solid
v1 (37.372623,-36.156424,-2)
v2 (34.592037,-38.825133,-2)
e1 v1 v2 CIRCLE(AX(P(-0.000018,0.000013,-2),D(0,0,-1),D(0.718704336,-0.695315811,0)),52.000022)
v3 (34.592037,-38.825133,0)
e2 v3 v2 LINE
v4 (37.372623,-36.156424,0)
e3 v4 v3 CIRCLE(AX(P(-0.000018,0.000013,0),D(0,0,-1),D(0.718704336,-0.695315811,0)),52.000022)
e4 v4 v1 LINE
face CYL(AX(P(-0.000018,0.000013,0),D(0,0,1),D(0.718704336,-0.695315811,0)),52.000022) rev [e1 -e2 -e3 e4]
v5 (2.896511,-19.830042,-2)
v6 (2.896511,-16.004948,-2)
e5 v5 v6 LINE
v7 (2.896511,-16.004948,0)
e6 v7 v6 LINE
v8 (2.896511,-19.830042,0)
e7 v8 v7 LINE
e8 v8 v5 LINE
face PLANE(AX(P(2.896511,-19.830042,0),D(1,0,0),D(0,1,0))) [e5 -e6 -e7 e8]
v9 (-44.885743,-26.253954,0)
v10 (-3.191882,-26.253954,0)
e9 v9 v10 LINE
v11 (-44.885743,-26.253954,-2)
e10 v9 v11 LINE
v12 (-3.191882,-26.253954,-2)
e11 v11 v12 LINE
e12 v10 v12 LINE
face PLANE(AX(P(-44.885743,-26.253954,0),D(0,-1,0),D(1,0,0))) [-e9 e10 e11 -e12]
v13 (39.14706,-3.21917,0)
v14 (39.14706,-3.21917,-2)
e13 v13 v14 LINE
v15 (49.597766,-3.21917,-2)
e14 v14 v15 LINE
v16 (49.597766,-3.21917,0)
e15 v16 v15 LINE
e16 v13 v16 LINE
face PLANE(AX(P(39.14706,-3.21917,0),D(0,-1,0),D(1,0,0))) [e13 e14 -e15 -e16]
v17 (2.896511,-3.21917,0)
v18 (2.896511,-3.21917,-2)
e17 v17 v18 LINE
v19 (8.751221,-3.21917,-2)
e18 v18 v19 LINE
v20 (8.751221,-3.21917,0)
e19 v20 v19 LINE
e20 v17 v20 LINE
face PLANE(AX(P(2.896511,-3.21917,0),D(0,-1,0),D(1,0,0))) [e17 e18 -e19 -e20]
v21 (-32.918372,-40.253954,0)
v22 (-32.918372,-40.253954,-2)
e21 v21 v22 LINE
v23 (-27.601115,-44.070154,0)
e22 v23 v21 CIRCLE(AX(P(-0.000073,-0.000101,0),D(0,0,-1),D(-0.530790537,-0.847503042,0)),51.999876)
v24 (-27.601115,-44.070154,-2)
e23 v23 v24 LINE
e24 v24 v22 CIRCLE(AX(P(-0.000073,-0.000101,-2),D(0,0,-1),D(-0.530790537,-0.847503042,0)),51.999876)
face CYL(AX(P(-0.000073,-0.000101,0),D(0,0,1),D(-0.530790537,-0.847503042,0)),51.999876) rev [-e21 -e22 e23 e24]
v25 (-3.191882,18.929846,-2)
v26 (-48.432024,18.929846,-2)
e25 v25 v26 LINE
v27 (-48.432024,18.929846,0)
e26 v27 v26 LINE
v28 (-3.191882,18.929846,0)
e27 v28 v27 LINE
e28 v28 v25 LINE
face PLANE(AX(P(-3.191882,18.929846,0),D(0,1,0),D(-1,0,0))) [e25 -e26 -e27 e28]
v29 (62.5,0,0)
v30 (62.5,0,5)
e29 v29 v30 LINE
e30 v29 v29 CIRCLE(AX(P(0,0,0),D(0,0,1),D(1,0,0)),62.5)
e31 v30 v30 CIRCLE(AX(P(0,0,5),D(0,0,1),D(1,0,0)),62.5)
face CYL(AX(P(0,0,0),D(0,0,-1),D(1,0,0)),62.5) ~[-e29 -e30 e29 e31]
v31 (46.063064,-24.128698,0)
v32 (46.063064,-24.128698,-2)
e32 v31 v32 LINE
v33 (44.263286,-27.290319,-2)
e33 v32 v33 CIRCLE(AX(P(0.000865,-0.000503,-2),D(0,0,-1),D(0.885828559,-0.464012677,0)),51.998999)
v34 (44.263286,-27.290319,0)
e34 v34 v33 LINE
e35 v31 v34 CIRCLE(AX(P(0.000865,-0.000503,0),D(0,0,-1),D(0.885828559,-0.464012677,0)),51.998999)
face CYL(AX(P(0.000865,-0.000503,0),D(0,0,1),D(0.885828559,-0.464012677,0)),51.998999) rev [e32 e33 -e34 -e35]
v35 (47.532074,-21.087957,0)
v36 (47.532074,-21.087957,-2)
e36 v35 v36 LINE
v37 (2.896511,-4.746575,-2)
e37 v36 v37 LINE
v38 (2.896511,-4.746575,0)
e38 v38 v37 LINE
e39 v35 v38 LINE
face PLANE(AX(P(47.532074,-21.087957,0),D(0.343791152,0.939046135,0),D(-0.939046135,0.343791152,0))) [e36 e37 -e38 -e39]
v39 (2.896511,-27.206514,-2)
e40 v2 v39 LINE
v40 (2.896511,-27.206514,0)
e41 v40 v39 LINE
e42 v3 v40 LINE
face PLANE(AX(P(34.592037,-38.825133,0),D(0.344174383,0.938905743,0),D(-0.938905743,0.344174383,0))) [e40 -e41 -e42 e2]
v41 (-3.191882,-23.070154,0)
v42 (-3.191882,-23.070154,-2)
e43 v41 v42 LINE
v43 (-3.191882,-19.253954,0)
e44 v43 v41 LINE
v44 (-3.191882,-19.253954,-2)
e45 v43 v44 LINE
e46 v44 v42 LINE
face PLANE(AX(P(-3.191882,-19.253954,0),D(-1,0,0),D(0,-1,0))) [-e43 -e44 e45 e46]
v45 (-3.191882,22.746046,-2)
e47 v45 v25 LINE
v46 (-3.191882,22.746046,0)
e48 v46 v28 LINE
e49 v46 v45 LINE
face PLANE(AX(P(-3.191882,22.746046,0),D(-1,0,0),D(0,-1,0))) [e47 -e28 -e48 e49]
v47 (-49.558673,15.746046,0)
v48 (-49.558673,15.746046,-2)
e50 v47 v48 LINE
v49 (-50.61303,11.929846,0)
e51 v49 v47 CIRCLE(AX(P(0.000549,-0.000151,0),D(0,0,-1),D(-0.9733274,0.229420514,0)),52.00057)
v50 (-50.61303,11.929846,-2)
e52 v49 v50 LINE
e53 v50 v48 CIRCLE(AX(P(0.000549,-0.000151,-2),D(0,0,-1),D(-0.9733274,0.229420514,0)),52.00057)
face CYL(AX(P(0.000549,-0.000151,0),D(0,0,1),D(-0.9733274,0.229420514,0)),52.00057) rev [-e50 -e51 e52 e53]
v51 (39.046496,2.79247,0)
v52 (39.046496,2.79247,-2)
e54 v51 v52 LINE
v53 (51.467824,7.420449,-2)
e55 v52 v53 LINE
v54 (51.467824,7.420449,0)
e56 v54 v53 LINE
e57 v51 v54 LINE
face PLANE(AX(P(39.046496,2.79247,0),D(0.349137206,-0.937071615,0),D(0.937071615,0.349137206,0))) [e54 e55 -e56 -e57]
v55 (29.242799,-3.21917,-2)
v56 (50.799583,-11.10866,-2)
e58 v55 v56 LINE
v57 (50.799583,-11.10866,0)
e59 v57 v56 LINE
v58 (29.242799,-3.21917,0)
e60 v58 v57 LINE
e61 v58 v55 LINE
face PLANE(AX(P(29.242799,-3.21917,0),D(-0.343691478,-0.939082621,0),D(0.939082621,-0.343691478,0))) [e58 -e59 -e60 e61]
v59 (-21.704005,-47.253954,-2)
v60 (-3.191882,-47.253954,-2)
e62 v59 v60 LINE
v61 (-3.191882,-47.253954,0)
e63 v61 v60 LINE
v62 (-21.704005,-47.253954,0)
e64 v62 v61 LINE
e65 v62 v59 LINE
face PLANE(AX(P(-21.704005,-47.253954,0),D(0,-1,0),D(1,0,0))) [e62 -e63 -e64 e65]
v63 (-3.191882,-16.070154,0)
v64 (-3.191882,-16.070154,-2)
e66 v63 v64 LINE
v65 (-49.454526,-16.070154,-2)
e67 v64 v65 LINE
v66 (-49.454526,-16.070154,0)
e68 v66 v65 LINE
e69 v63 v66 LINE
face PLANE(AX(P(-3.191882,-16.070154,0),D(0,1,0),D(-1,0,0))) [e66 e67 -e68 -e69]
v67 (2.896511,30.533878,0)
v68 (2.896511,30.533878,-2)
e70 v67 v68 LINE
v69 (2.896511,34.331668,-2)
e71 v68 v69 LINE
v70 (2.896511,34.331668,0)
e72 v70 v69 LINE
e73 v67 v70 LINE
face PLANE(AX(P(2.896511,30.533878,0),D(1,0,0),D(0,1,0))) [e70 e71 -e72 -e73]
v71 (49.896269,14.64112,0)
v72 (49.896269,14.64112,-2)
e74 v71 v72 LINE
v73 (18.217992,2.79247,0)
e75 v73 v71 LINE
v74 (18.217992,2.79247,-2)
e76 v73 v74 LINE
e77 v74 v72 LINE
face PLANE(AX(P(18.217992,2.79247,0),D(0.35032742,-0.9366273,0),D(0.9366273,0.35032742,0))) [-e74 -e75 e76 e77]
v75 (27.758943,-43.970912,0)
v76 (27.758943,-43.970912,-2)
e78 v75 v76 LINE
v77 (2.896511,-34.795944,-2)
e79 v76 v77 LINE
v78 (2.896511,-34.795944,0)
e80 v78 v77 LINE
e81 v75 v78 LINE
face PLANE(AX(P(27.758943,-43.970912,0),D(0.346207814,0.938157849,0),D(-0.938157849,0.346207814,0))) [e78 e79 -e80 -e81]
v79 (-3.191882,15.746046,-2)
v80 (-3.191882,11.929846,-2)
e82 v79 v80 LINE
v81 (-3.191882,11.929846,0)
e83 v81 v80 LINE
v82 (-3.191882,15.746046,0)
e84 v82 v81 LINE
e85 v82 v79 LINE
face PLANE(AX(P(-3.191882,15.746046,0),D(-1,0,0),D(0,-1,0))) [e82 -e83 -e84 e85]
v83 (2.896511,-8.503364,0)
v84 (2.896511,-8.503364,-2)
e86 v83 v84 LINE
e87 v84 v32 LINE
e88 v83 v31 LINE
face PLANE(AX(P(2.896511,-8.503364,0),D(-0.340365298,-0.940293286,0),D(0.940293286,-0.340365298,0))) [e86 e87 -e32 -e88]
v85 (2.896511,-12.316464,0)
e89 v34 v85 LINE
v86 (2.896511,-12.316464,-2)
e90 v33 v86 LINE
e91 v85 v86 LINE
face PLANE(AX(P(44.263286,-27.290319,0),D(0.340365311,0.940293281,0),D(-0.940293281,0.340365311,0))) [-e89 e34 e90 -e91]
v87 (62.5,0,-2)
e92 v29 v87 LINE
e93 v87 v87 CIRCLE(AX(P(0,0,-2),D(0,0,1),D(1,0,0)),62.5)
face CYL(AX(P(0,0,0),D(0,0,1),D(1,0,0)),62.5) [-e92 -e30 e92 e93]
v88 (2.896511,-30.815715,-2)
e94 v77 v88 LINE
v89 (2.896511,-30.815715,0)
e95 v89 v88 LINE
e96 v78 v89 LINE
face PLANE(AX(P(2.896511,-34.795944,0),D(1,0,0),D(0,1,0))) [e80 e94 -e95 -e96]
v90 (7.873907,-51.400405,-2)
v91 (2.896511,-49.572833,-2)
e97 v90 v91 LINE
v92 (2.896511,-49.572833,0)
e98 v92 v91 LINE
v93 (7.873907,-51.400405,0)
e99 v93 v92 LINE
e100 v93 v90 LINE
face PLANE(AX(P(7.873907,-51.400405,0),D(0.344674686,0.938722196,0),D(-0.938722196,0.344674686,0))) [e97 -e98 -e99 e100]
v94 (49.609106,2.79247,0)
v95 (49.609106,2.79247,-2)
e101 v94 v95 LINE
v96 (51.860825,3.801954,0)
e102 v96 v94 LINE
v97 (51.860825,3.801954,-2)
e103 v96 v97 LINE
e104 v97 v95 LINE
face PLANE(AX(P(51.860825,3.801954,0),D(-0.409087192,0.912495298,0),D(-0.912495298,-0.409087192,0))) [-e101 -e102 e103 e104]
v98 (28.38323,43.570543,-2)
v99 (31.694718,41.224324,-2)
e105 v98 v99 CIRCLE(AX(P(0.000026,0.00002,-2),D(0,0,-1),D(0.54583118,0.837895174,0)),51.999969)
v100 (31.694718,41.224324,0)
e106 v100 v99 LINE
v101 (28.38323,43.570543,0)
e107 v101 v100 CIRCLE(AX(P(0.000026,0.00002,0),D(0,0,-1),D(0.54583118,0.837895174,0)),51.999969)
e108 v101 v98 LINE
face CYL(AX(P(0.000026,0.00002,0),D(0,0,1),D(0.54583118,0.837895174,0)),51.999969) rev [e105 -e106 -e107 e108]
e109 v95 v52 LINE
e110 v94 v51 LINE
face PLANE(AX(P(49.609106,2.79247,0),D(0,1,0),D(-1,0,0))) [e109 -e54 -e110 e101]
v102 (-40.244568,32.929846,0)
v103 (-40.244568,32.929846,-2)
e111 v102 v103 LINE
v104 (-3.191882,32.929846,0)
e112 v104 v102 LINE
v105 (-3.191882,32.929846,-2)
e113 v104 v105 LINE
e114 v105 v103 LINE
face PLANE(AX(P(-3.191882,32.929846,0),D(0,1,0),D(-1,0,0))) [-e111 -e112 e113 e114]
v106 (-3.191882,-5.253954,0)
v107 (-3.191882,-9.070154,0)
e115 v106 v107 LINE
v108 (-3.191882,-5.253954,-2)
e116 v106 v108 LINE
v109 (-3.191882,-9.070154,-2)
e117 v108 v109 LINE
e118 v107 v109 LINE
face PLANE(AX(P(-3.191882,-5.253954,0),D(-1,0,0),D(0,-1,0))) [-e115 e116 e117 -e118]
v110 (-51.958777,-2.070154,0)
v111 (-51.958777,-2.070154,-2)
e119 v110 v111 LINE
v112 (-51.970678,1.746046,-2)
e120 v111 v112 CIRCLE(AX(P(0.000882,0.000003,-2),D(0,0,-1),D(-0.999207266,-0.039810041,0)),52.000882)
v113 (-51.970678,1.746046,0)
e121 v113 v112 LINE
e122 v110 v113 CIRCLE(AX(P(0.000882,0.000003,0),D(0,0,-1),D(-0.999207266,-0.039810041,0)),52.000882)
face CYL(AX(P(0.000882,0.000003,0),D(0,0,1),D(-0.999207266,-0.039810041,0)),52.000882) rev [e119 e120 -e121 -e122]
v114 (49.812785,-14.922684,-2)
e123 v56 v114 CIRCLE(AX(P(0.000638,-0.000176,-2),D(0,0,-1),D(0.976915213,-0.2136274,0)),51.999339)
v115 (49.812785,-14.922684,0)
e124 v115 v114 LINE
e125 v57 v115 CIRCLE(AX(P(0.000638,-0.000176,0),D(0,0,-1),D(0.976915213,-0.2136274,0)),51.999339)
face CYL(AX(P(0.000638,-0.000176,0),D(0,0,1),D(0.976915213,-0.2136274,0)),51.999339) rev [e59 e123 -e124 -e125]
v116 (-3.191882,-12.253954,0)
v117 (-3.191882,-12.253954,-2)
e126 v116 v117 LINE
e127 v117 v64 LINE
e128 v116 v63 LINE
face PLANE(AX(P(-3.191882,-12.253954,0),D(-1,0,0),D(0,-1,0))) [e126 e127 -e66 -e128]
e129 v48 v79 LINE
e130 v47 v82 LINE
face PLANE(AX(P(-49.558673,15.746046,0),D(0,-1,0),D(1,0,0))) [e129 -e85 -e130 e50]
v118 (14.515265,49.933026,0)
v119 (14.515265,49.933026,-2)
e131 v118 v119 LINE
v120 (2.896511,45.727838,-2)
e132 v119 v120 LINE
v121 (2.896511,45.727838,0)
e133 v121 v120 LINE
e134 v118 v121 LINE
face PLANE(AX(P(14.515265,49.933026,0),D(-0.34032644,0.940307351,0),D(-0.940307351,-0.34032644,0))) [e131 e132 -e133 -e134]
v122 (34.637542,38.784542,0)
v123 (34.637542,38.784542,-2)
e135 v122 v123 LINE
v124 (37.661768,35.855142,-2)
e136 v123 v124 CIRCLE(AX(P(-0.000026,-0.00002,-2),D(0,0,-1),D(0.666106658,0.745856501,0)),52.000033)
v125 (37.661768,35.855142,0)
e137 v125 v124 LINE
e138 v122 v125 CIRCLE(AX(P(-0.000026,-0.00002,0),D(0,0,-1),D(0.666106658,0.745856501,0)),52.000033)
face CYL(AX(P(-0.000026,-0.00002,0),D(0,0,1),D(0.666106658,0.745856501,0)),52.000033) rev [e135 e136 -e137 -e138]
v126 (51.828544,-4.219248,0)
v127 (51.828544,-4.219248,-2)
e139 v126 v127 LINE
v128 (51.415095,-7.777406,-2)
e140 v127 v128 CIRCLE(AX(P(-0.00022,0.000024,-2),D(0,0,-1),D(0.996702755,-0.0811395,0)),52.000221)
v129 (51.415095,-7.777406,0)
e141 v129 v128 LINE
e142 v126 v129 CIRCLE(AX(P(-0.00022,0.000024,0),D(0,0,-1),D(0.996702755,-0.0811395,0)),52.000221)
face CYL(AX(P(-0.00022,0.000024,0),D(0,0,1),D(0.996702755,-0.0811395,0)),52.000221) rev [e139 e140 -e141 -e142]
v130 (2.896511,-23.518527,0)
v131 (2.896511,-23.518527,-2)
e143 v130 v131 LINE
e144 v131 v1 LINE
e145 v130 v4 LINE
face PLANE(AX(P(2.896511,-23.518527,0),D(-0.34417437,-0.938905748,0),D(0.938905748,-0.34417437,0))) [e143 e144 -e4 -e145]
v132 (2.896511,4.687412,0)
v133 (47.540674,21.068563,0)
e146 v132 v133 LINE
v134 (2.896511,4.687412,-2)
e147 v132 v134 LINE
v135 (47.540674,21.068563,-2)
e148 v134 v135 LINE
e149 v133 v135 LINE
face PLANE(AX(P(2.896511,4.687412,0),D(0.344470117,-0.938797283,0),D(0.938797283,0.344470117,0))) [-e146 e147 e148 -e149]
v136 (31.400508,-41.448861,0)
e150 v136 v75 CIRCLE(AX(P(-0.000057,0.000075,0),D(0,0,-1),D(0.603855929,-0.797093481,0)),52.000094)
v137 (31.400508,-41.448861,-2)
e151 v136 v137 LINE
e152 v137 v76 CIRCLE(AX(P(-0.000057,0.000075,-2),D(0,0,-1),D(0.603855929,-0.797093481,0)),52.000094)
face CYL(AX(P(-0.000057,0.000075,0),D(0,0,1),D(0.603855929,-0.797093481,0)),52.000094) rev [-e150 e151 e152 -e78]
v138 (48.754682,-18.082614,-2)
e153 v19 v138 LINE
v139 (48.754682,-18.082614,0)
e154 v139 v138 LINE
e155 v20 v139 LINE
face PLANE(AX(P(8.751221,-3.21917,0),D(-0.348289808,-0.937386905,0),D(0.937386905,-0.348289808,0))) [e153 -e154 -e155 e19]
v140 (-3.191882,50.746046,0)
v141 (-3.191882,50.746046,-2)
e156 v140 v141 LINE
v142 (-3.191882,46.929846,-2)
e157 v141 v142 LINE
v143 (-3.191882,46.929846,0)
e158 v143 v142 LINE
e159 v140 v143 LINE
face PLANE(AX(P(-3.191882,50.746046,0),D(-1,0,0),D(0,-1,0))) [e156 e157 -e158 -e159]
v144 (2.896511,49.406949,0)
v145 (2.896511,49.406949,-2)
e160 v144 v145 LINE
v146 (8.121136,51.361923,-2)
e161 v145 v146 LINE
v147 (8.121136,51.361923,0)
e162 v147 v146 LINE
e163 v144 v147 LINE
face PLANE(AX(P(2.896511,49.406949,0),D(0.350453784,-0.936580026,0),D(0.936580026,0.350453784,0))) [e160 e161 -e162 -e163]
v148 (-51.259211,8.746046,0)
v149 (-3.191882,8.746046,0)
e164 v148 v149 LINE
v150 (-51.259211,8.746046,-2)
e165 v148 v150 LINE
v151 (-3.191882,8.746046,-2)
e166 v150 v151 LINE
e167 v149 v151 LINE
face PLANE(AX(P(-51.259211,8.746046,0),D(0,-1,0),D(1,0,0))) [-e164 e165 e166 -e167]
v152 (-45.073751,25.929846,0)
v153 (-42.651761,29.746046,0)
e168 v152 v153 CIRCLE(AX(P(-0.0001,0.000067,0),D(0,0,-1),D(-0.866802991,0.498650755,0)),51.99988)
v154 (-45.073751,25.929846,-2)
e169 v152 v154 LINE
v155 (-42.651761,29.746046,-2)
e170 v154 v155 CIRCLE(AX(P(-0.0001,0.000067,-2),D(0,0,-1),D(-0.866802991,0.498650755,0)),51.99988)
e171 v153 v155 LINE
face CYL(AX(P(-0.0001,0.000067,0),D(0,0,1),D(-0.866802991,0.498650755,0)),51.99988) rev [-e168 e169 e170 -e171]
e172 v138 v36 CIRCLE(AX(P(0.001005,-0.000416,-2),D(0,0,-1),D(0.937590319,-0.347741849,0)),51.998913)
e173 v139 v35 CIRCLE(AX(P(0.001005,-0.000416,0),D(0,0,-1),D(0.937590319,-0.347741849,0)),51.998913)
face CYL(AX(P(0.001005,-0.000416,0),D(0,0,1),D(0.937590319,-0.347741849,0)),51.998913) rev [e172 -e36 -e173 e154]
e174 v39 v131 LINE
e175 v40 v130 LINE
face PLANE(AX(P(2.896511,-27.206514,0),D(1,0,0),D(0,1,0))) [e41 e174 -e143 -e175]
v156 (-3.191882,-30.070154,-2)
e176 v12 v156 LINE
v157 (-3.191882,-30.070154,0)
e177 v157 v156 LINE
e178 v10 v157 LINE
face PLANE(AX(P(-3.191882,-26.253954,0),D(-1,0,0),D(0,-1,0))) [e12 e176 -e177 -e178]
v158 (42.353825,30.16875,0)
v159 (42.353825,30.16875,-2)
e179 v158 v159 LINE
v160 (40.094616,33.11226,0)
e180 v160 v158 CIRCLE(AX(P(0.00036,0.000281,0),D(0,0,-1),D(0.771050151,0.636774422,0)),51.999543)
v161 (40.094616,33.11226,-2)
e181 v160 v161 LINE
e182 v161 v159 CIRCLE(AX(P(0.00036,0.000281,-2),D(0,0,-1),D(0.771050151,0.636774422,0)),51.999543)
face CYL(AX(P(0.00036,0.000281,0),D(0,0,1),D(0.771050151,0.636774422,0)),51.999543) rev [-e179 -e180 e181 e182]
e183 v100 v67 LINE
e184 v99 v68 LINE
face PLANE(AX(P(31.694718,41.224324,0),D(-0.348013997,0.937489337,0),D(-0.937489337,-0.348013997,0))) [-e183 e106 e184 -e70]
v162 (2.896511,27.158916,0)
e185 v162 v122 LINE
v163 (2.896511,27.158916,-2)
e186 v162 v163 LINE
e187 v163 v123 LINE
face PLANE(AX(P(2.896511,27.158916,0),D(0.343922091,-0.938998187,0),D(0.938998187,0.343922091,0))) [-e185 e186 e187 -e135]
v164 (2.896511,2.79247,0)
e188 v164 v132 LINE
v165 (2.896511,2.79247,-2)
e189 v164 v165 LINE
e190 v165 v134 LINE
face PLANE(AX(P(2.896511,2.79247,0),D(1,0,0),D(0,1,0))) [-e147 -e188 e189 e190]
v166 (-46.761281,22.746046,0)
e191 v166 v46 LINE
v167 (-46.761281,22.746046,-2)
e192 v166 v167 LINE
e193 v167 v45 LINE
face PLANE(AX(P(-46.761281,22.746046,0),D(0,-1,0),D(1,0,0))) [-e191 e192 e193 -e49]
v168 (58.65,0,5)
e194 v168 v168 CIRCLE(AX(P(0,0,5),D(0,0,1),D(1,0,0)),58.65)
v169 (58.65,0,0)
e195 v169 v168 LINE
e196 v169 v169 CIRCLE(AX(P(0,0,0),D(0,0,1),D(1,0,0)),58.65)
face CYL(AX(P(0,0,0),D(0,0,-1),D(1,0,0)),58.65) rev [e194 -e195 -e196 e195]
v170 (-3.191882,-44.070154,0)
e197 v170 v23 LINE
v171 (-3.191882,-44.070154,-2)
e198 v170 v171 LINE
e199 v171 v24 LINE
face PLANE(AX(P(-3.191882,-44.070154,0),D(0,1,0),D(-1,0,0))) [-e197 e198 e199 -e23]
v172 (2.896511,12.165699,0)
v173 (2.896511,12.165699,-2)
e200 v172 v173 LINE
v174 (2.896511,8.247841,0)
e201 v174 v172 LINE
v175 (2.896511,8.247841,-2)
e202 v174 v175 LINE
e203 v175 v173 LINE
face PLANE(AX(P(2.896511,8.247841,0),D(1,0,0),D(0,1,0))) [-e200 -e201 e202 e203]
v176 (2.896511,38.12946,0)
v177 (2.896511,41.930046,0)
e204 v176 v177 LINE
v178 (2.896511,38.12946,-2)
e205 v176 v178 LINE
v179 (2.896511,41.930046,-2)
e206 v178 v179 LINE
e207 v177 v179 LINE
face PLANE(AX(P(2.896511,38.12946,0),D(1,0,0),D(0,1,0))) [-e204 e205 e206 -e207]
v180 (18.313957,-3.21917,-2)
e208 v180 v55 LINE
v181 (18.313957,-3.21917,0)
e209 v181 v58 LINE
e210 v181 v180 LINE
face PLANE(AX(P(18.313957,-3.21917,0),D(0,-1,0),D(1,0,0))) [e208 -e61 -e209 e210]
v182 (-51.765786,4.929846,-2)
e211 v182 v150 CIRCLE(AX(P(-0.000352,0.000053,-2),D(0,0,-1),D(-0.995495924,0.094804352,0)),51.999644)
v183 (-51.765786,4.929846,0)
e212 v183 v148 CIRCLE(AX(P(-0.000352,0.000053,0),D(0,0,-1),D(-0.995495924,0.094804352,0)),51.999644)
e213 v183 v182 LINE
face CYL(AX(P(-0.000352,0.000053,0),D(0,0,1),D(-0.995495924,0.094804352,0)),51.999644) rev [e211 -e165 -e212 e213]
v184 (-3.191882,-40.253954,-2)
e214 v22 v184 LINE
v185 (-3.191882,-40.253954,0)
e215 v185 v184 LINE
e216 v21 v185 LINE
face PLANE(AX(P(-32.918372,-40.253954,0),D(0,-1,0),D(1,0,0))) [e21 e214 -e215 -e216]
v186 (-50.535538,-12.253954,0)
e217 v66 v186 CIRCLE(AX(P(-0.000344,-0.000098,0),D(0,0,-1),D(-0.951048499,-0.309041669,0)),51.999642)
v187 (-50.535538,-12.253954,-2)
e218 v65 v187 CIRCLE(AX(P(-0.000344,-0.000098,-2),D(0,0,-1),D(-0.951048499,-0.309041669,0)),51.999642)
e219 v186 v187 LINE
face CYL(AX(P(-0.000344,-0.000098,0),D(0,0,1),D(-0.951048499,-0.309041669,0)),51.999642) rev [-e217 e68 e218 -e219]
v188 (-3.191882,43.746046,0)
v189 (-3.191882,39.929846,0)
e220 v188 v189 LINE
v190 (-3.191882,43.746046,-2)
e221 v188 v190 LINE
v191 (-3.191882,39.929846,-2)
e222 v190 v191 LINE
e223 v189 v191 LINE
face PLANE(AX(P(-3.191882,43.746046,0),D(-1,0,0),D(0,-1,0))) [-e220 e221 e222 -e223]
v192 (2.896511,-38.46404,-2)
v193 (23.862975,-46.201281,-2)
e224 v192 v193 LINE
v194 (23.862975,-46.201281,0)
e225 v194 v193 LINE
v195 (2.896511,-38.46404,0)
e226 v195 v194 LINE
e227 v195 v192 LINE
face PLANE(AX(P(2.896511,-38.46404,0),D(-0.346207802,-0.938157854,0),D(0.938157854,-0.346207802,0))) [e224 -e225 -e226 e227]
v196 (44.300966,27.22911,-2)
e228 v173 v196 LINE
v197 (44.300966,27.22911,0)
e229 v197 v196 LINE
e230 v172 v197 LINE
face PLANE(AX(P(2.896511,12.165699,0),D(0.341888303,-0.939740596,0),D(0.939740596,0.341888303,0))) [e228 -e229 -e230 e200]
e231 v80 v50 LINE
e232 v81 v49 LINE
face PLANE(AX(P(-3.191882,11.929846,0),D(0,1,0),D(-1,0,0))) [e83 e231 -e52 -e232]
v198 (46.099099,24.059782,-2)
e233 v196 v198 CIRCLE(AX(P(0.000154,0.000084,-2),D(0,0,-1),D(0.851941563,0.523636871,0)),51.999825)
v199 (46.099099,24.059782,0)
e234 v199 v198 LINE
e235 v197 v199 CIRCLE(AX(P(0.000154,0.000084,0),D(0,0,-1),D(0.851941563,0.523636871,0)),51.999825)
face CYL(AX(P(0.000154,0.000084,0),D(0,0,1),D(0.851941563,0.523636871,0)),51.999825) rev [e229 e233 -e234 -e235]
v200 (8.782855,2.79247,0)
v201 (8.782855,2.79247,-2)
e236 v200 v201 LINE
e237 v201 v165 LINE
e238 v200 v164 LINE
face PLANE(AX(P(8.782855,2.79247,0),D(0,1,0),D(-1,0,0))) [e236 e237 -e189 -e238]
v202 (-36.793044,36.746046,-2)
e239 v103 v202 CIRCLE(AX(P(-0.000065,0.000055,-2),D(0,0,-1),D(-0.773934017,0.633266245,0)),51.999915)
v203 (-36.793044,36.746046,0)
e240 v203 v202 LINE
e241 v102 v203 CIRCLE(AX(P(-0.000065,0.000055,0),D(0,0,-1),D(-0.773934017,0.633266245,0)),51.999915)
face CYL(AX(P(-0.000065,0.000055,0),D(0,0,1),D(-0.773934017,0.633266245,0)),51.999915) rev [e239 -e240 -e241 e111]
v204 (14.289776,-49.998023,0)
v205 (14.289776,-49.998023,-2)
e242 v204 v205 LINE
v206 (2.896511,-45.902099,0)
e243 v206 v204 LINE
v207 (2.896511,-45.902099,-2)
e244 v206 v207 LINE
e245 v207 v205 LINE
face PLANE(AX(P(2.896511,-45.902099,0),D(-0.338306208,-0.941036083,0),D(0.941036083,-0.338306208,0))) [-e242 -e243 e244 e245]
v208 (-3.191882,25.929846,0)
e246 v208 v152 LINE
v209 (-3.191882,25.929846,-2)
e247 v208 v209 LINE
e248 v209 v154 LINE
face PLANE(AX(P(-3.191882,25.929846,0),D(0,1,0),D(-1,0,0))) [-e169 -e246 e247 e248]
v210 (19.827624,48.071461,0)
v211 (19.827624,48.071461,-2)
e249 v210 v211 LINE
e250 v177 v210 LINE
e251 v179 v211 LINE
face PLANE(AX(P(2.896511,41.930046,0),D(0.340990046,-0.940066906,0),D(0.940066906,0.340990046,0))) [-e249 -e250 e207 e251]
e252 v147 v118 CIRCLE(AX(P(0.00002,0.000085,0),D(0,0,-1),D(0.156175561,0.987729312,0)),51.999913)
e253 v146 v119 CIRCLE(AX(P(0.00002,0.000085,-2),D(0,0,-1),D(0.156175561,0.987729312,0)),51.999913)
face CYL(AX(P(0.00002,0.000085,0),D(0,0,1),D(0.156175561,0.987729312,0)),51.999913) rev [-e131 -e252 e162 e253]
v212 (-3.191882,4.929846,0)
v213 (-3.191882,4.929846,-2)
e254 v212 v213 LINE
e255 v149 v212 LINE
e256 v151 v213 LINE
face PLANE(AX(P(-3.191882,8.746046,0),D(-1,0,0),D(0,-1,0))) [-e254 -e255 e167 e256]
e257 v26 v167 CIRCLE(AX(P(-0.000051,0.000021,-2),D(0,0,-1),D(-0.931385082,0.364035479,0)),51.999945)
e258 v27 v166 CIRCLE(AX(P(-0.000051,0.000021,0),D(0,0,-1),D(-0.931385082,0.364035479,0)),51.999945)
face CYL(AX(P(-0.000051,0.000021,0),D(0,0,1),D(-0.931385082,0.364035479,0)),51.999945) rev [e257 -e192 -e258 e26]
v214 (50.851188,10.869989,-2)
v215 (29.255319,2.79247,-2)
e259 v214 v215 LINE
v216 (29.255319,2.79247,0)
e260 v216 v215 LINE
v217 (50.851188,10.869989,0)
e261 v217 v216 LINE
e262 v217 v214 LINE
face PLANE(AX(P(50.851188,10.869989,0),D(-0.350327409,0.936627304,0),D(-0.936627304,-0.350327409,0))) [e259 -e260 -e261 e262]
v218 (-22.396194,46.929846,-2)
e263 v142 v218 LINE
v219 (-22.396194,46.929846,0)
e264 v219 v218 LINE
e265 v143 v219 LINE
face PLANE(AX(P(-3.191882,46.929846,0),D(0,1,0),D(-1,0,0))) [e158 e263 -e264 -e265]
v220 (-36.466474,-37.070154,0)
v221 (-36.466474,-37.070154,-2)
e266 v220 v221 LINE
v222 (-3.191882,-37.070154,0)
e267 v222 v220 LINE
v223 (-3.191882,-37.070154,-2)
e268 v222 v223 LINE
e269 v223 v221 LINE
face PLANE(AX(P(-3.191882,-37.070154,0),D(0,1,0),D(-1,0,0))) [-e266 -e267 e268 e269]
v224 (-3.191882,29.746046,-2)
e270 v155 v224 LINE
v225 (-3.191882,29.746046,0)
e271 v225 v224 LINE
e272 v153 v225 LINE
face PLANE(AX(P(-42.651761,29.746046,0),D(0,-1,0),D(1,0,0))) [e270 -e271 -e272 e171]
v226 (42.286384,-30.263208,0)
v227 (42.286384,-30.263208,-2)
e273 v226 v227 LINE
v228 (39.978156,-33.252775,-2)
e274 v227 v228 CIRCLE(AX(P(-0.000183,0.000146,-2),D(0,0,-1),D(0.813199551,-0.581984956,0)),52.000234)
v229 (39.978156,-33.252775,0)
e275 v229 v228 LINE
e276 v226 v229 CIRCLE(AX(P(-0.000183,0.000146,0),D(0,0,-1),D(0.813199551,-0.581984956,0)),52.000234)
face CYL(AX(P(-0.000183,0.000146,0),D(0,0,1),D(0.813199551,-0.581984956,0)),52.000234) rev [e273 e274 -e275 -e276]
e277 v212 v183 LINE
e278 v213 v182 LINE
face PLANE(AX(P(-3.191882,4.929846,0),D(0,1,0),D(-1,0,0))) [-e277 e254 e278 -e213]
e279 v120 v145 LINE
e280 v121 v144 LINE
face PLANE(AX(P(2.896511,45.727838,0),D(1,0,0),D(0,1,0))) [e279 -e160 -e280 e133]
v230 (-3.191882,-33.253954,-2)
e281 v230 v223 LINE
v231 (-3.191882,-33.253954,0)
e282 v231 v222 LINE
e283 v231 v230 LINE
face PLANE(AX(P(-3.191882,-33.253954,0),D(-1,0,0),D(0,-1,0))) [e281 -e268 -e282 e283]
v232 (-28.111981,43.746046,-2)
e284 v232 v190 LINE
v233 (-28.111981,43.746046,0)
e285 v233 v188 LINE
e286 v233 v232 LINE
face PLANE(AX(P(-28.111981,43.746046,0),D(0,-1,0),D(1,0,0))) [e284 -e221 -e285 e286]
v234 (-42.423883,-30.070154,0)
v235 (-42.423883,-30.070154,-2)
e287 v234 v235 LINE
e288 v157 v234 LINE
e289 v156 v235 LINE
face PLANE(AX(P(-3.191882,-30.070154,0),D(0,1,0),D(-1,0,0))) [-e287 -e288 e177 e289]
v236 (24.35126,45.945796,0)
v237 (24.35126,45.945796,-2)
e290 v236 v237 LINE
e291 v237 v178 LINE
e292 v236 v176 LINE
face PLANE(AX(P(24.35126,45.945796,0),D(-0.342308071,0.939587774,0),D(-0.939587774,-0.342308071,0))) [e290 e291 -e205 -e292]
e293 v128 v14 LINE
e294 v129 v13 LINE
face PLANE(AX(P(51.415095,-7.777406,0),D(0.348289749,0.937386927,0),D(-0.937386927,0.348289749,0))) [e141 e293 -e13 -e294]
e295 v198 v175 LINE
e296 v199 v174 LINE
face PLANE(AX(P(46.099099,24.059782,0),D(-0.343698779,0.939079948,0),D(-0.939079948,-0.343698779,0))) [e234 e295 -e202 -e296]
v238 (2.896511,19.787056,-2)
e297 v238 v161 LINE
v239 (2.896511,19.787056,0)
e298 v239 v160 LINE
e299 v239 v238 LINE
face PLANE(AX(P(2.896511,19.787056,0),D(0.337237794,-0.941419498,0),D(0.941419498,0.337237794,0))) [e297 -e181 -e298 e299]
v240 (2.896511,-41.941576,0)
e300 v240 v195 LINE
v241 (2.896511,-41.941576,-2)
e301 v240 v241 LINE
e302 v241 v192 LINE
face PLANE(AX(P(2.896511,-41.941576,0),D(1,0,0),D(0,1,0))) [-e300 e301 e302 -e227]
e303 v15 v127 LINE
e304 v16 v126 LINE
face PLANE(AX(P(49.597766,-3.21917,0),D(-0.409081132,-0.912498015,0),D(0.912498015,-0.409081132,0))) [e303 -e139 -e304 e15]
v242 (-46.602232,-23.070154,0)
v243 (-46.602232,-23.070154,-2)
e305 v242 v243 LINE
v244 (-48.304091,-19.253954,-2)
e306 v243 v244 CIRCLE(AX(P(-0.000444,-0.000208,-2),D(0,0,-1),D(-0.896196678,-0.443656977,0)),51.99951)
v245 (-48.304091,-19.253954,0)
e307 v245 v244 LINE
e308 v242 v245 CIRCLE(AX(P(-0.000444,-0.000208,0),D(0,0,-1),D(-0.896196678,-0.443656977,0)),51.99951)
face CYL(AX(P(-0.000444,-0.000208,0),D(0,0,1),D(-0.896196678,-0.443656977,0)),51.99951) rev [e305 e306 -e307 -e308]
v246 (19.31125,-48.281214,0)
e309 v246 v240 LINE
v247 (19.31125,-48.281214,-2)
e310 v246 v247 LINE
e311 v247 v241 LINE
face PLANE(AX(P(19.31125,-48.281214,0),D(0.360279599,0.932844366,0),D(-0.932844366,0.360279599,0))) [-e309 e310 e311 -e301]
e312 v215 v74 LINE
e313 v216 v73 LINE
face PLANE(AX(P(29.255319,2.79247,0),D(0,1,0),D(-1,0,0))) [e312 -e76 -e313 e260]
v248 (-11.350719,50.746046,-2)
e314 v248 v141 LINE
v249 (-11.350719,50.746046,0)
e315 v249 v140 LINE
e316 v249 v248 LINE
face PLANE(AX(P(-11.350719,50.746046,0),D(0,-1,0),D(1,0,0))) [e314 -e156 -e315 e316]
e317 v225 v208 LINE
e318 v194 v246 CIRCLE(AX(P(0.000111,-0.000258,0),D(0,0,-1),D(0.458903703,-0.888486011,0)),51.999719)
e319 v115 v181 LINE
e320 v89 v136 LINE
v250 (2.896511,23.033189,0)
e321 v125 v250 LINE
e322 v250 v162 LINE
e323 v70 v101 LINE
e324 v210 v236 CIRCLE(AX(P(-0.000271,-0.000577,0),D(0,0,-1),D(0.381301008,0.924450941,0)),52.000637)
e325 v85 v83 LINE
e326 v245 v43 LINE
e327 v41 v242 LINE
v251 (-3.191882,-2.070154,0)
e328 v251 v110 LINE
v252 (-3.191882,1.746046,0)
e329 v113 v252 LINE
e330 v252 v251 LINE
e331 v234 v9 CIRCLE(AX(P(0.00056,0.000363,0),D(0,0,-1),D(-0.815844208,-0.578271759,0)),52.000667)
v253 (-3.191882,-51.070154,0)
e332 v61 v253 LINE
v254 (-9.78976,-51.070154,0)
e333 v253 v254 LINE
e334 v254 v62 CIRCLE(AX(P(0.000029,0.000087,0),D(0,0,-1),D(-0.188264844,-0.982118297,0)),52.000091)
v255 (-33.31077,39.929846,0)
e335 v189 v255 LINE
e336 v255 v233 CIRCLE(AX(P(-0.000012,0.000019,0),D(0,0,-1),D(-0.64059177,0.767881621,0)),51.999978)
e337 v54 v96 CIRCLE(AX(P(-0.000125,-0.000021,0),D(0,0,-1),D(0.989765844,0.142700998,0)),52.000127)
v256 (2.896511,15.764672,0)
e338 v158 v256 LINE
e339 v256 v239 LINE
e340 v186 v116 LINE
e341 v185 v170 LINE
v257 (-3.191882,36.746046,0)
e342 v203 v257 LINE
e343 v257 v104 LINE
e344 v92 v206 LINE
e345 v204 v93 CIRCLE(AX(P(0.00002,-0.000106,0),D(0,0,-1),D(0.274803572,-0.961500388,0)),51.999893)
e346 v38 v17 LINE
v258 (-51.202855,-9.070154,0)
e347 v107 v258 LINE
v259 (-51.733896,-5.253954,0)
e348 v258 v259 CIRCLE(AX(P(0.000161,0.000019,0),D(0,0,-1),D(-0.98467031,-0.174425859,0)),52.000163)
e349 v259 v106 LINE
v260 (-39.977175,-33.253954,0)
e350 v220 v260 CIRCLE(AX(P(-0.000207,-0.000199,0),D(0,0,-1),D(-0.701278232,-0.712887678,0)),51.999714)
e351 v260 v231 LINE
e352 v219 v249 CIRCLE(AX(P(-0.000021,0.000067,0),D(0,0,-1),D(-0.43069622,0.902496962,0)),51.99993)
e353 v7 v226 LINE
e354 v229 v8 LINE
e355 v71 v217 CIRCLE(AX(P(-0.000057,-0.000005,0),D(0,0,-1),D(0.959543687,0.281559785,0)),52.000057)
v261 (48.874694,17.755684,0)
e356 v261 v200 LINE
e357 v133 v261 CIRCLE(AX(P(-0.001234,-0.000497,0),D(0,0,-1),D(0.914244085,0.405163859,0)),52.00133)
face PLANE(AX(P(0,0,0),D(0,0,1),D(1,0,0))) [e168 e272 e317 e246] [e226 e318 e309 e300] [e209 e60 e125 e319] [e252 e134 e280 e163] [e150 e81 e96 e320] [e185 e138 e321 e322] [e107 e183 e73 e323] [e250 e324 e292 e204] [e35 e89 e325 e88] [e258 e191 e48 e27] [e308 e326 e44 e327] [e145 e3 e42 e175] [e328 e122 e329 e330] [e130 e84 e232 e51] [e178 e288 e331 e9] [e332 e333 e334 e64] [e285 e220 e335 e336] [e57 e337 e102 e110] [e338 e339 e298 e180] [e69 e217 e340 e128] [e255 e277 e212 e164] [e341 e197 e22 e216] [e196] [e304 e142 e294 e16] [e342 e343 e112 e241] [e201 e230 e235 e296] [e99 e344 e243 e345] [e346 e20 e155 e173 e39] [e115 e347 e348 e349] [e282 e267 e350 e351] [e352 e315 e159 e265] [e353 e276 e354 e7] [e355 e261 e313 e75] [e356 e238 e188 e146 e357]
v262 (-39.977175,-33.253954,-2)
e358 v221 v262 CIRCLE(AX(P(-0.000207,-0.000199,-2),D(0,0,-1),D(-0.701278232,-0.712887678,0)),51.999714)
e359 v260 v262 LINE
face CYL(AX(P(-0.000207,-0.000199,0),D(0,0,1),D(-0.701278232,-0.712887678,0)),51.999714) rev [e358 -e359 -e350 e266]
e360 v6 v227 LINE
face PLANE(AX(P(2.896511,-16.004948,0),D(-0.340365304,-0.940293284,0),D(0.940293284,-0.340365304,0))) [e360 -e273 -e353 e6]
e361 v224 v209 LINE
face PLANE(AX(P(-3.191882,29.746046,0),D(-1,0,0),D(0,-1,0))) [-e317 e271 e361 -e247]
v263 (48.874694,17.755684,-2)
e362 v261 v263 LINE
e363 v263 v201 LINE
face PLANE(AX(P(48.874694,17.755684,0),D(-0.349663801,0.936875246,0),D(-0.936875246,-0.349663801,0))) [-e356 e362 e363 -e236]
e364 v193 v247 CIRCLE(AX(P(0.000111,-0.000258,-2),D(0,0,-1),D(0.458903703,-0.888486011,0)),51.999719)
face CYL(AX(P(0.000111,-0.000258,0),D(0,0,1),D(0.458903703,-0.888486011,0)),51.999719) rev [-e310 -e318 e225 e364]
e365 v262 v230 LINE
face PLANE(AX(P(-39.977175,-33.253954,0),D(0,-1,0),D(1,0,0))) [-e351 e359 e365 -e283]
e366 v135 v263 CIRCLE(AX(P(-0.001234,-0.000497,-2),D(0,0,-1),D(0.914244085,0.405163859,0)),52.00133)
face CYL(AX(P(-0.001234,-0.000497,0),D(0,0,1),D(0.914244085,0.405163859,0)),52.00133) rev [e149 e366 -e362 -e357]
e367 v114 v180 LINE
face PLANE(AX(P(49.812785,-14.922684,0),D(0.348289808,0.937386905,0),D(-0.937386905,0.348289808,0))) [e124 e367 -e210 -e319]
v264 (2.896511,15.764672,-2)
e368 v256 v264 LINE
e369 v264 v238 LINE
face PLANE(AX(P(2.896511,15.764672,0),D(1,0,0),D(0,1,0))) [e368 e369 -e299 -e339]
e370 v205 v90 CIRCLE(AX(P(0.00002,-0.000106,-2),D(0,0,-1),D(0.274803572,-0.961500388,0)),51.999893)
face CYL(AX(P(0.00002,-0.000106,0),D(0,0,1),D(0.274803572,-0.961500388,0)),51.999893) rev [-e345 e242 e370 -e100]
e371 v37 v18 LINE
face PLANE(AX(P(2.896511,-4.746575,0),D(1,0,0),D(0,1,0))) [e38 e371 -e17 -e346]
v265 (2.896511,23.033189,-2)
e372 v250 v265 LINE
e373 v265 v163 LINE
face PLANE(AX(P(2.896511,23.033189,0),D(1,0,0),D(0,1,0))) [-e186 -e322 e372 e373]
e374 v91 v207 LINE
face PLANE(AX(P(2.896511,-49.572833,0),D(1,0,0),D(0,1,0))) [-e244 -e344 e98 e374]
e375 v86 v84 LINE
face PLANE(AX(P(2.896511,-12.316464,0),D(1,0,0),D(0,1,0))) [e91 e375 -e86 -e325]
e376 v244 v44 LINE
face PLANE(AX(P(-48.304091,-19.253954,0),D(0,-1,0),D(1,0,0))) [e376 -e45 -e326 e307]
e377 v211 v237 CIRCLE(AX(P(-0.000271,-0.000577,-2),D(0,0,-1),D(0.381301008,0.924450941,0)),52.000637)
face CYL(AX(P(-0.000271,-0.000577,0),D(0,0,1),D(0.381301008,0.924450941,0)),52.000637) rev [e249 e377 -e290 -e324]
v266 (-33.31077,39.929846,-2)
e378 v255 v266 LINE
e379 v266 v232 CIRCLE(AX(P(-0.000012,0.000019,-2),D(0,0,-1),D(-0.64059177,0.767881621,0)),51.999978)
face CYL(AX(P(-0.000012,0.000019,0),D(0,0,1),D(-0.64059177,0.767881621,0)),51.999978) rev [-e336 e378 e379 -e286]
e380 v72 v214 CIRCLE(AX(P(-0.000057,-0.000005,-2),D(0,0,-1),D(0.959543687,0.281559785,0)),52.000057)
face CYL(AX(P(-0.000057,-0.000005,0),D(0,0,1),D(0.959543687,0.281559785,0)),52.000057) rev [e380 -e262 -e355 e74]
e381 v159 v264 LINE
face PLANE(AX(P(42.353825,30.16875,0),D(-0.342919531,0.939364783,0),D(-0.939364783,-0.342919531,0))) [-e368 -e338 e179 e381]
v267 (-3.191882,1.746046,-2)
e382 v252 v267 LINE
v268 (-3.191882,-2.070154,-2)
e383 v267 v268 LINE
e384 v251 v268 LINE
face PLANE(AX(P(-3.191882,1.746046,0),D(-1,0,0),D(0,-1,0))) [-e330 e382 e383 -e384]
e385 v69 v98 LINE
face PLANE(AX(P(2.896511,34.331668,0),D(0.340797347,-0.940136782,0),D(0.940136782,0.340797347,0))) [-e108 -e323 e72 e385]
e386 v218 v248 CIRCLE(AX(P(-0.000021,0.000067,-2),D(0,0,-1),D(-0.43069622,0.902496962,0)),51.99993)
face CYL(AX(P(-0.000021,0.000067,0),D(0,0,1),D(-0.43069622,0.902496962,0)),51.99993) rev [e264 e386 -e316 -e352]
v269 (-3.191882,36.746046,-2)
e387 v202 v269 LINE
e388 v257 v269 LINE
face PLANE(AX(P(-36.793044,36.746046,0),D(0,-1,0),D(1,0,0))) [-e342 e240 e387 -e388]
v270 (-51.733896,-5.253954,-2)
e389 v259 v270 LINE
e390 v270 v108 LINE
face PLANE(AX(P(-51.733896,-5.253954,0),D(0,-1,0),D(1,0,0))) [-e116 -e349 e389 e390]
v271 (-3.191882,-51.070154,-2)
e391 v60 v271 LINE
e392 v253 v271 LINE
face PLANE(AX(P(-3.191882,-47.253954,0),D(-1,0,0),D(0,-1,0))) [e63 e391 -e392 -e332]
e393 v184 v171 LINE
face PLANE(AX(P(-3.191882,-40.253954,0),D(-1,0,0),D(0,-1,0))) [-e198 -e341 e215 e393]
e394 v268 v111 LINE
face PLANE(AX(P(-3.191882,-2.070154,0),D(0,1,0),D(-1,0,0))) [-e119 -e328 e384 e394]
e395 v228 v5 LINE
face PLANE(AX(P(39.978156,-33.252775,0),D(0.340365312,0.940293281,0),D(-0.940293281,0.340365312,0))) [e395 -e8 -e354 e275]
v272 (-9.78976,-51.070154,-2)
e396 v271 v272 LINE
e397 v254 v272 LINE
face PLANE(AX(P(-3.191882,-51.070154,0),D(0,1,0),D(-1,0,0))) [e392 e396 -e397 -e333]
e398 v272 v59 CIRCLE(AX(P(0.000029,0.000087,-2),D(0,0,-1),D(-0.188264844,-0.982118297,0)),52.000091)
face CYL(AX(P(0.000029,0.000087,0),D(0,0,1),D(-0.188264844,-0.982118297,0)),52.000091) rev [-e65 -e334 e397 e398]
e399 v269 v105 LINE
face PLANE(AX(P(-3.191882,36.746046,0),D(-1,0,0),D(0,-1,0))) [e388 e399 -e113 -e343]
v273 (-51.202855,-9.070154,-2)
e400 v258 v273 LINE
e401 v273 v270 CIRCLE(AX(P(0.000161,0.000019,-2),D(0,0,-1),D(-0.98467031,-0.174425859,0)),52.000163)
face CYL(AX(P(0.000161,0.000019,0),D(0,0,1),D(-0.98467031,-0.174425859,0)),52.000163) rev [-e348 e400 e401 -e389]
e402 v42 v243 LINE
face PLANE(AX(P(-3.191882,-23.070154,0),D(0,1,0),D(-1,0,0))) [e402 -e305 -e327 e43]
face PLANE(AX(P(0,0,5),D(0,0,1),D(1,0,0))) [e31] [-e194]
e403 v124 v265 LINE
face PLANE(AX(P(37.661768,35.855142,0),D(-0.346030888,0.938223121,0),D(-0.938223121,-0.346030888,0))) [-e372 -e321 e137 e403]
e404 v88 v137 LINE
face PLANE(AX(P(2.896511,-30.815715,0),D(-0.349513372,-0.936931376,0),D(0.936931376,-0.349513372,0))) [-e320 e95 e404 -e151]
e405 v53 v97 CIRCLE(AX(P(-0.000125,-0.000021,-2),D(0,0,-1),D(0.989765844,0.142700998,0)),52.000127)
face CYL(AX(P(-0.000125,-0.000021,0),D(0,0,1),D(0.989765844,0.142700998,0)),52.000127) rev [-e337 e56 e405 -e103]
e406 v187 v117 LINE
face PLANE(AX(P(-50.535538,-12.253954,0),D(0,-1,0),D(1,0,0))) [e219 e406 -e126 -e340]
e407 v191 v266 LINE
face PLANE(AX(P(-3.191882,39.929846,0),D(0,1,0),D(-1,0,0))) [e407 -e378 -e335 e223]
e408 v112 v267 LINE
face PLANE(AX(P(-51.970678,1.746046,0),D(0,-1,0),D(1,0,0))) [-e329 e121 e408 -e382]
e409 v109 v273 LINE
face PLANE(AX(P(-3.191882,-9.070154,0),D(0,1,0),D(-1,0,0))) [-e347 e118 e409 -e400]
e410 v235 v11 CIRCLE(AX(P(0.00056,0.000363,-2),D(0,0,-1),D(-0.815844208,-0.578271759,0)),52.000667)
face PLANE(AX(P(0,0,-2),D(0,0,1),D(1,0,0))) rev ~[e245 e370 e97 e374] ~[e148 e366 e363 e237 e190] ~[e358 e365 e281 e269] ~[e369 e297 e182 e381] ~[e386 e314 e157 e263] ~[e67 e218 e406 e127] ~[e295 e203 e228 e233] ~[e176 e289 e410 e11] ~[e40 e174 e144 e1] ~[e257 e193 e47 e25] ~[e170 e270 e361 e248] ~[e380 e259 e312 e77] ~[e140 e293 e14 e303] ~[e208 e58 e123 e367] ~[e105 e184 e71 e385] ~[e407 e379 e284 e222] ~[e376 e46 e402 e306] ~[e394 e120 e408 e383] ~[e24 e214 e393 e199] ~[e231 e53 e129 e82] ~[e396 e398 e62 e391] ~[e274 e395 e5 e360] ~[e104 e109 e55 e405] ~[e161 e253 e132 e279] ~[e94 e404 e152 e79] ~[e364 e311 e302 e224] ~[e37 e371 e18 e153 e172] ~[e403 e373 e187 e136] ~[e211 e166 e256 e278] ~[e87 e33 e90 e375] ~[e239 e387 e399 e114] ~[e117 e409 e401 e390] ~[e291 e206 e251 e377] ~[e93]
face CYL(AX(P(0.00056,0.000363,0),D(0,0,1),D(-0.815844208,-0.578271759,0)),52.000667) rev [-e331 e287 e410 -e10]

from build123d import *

# Parameters (mm, degrees)
F0_R     = 62.5
F0_R_2   = 58.65
F1_DEPTH = 2
F2_DEPTH = 5


with BuildPart() as f1:
    # F0 (on Top) → F1 (new body)
    with BuildSketch(Plane.XY):
        Circle(F0_R)
        Circle(F0_R_2, mode=Mode.SUBTRACT)
        Circle(F0_R_2)
        with BuildLine():
            Line((-3.191882, -47.253954), (-3.191882, -51.070154))
            Line((-3.191882, -51.070154), (-9.78976, -51.070154))
            ThreePointArc((-9.78976, -51.070154), (-15.862066, -49.52166), (-21.704005, -47.253954))
            Line((-21.704005, -47.253954), (-3.191882, -47.253954))
        make_face(mode=Mode.SUBTRACT)
        with BuildLine():
            Line((-32.918372, -40.253954), (-3.191882, -40.253954))
            Line((-3.191882, -40.253954), (-3.191882, -44.070154))
            Line((-3.191882, -44.070154), (-27.601115, -44.070154))
            ThreePointArc((-27.601115, -44.070154), (-30.319844, -42.245794), (-32.918372, -40.253954))
        make_face(mode=Mode.SUBTRACT)
        with BuildLine():
            Line((-39.977175, -33.253954), (-3.191882, -33.253954))
            Line((-3.191882, -33.253954), (-3.191882, -37.070154))
            Line((-3.191882, -37.070154), (-36.466474, -37.070154))
            ThreePointArc((-36.466474, -37.070154), (-38.269423, -35.205842), (-39.977175, -33.253954))
        make_face(mode=Mode.SUBTRACT)
        with BuildLine():
            Line((-44.885743, -26.253954), (-3.191882, -26.253954))
            Line((-3.191882, -26.253954), (-3.191882, -30.070154))
            Line((-3.191882, -30.070154), (-42.423883, -30.070154))
            ThreePointArc((-42.423883, -30.070154), (-43.696493, -28.188942), (-44.885743, -26.253954))
        make_face(mode=Mode.SUBTRACT)
        with BuildLine():
            Line((-48.304091, -19.253954), (-3.191882, -19.253954))
            Line((-3.191882, -19.253954), (-3.191882, -23.070154))
            Line((-3.191882, -23.070154), (-46.602232, -23.070154))
            ThreePointArc((-46.602232, -23.070154), (-47.491509, -21.179155), (-48.304091, -19.253954))
        make_face(mode=Mode.SUBTRACT)
        with BuildLine():
            Line((-50.535538, -12.253954), (-3.191882, -12.253954))
            Line((-3.191882, -12.253954), (-3.191882, -16.070154))
            Line((-3.191882, -16.070154), (-49.454526, -16.070154))
            ThreePointArc((-49.454526, -16.070154), (-50.031431, -14.172365), (-50.535538, -12.253954))
        make_face(mode=Mode.SUBTRACT)
        with BuildLine():
            Line((-51.733896, -5.253954), (-3.191882, -5.253954))
            Line((-3.191882, -5.253954), (-3.191882, -9.070154))
            Line((-3.191882, -9.070154), (-51.202855, -9.070154))
            ThreePointArc((-51.202855, -9.070154), (-51.503733, -7.166974), (-51.733896, -5.253954))
        make_face(mode=Mode.SUBTRACT)
        with BuildLine():
            Line((-51.970678, 1.746046), (-3.191882, 1.746046))
            Line((-3.191882, 1.746046), (-3.191882, -2.070154))
            Line((-3.191882, -2.070154), (-51.958777, -2.070154))
            ThreePointArc((-51.958777, -2.070154), (-51.999747, -0.162163), (-51.970678, 1.746046))
        make_face(mode=Mode.SUBTRACT)
        with BuildLine():
            Line((7.873907, -51.400405), (2.896511, -49.572833))
            Line((2.896511, -49.572833), (2.896511, -45.902099))
            Line((2.896511, -45.902099), (14.289776, -49.998023))
            ThreePointArc((14.289776, -49.998023), (11.104003, -50.800602), (7.873907, -51.400405))
        make_face(mode=Mode.SUBTRACT)
        with BuildLine():
            Line((19.31125, -48.281214), (2.896511, -41.941576))
            Line((2.896511, -41.941576), (2.896511, -38.46404))
            Line((2.896511, -38.46404), (23.862975, -46.201281))
            ThreePointArc((23.862975, -46.201281), (21.612149, -47.296036), (19.31125, -48.281214))
        make_face(mode=Mode.SUBTRACT)
        with BuildLine():
            Line((27.758943, -43.970912), (2.896511, -34.795944))
            Line((2.896511, -34.795944), (2.896511, -30.815715))
            Line((2.896511, -30.815715), (31.400508, -41.448861))
            ThreePointArc((31.400508, -41.448861), (29.606593, -42.74868), (27.758943, -43.970912))
        make_face(mode=Mode.SUBTRACT)
        with BuildLine():
            ThreePointArc((37.372623, -36.156424), (36.007063, -37.516548), (34.592037, -38.825133))
            Line((34.592037, -38.825133), (2.896511, -27.206514))
            Line((2.896511, -27.206514), (2.896511, -23.518527))
            Line((2.896511, -23.518527), (37.372623, -36.156424))
        make_face(mode=Mode.SUBTRACT)
        with BuildLine():
            Line((39.978156, -33.252775), (2.896511, -19.830042))
            Line((2.896511, -19.830042), (2.896511, -16.004948))
            Line((2.896511, -16.004948), (42.286384, -30.263208))
            ThreePointArc((42.286384, -30.263208), (41.159422, -31.778955), (39.978156, -33.252775))
        make_face(mode=Mode.SUBTRACT)
        with BuildLine():
            Line((44.263286, -27.290319), (2.896511, -12.316464))
            Line((2.896511, -12.316464), (2.896511, -8.503364))
            Line((2.896511, -8.503364), (46.063064, -24.128698))
            ThreePointArc((46.063064, -24.128698), (45.190833, -25.725253), (44.263286, -27.290319))
        make_face(mode=Mode.SUBTRACT)
        with BuildLine():
            Line((2.896511, -4.746575), (2.896511, -3.21917))
            Line((2.896511, -3.21917), (8.751221, -3.21917))
            Line((8.751221, -3.21917), (48.754682, -18.082614))
            ThreePointArc((48.754682, -18.082614), (48.166824, -19.594823), (47.532074, -21.087957))
            Line((47.532074, -21.087957), (2.896511, -4.746575))
        make_face(mode=Mode.SUBTRACT)
        with BuildLine():
            Line((49.812785, -14.922684), (18.313957, -3.21917))
            Line((18.313957, -3.21917), (29.242799, -3.21917))
            Line((29.242799, -3.21917), (50.799583, -11.10866))
            ThreePointArc((50.799583, -11.10866), (50.342317, -13.025021), (49.812785, -14.922684))
        make_face(mode=Mode.SUBTRACT)
        with BuildLine():
            Line((51.415095, -7.777406), (39.14706, -3.21917))
            Line((39.14706, -3.21917), (49.597766, -3.21917))
            Line((49.597766, -3.21917), (51.828544, -4.219248))
            ThreePointArc((51.828544, -4.219248), (51.652467, -6.001889), (51.415095, -7.777406))
        make_face(mode=Mode.SUBTRACT)
        with BuildLine():
            Line((-51.259211, 8.746046), (-3.191882, 8.746046))
            Line((-3.191882, 8.746046), (-3.191882, 4.929846))
            Line((-3.191882, 4.929846), (-51.765786, 4.929846))
            ThreePointArc((-51.765786, 4.929846), (-51.547826, 6.842636), (-51.259211, 8.746046))
        make_face(mode=Mode.SUBTRACT)
        with BuildLine():
            Line((-49.558673, 15.746046), (-3.191882, 15.746046))
            Line((-3.191882, 15.746046), (-3.191882, 11.929846))
            Line((-3.191882, 11.929846), (-50.61303, 11.929846))
            ThreePointArc((-50.61303, 11.929846), (-50.122184, 13.847984), (-49.558673, 15.746046))
        make_face(mode=Mode.SUBTRACT)
        with BuildLine():
            Line((-46.761281, 22.746046), (-3.191882, 22.746046))
            Line((-3.191882, 22.746046), (-3.191882, 18.929846))
            Line((-3.191882, 18.929846), (-48.432024, 18.929846))
            ThreePointArc((-48.432024, 18.929846), (-47.634884, 20.854684), (-46.761281, 22.746046))
        make_face(mode=Mode.SUBTRACT)
        with BuildLine():
            Line((-42.651761, 29.746046), (-3.191882, 29.746046))
            Line((-3.191882, 29.746046), (-3.191882, 25.929846))
            Line((-3.191882, 25.929846), (-45.073751, 25.929846))
            ThreePointArc((-45.073751, 25.929846), (-43.904239, 27.864274), (-42.651761, 29.746046))
        make_face(mode=Mode.SUBTRACT)
        with BuildLine():
            Line((-36.793044, 36.746046), (-3.191882, 36.746046))
            Line((-3.191882, 36.746046), (-3.191882, 32.929846))
            Line((-3.191882, 32.929846), (-40.244568, 32.929846))
            ThreePointArc((-40.244568, 32.929846), (-38.566038, 34.880664), (-36.793044, 36.746046))
        make_face(mode=Mode.SUBTRACT)
        with BuildLine():
            Line((-28.111981, 43.746046), (-3.191882, 43.746046))
            Line((-3.191882, 43.746046), (-3.191882, 39.929846))
            Line((-3.191882, 39.929846), (-33.31077, 39.929846))
            ThreePointArc((-33.31077, 39.929846), (-30.770593, 41.918619), (-28.111981, 43.746046))
        make_face(mode=Mode.SUBTRACT)
        with BuildLine():
            ThreePointArc((-22.396194, 46.929846), (-16.981001, 49.149218), (-11.350719, 50.746046))
            Line((-11.350719, 50.746046), (-3.191882, 50.746046))
            Line((-3.191882, 50.746046), (-3.191882, 46.929846))
            Line((-3.191882, 46.929846), (-22.396194, 46.929846))
        make_face(mode=Mode.SUBTRACT)
        with BuildLine():
            Line((8.782855, 2.79247), (2.896511, 2.79247))
            Line((2.896511, 2.79247), (2.896511, 4.687412))
            Line((2.896511, 4.687412), (47.540674, 21.068563))
            ThreePointArc((47.540674, 21.068563), (48.236133, 19.423579), (48.874694, 17.755684))
            Line((48.874694, 17.755684), (8.782855, 2.79247))
        make_face(mode=Mode.SUBTRACT)
        with BuildLine():
            Line((46.099099, 24.059782), (2.896511, 8.247841))
            Line((2.896511, 8.247841), (2.896511, 12.165699))
            Line((2.896511, 12.165699), (44.300966, 27.22911))
            ThreePointArc((44.300966, 27.22911), (45.227802, 25.660202), (46.099099, 24.059782))
        make_face(mode=Mode.SUBTRACT)
        with BuildLine():
            Line((42.353825, 30.16875), (2.896511, 15.764672))
            Line((2.896511, 15.764672), (2.896511, 19.787056))
            Line((2.896511, 19.787056), (40.094616, 33.11226))
            ThreePointArc((40.094616, 33.11226), (41.250484, 31.660663), (42.353825, 30.16875))
        make_face(mode=Mode.SUBTRACT)
        with BuildLine():
            Line((37.661768, 35.855142), (2.896511, 23.033189))
            Line((2.896511, 23.033189), (2.896511, 27.158916))
            Line((2.896511, 27.158916), (34.637542, 38.784542))
            ThreePointArc((34.637542, 38.784542), (36.179316, 37.350463), (37.661768, 35.855142))
        make_face(mode=Mode.SUBTRACT)
        with BuildLine():
            ThreePointArc((51.467824, 7.420449), (51.695994, 5.614641), (51.860825, 3.801954))
            Line((51.860825, 3.801954), (49.609106, 2.79247))
            Line((49.609106, 2.79247), (39.046496, 2.79247))
            Line((39.046496, 2.79247), (51.467824, 7.420449))
        make_face(mode=Mode.SUBTRACT)
        with BuildLine():
            Line((50.851188, 10.869989), (29.255319, 2.79247))
            Line((29.255319, 2.79247), (18.217992, 2.79247))
            Line((18.217992, 2.79247), (49.896269, 14.64112))
            ThreePointArc((49.896269, 14.64112), (50.409006, 12.764487), (50.851188, 10.869989))
        make_face(mode=Mode.SUBTRACT)
        with BuildLine():
            Line((24.35126, 45.945796), (2.896511, 38.12946))
            Line((2.896511, 38.12946), (2.896511, 41.930046))
            Line((2.896511, 41.930046), (19.827624, 48.071461))
            ThreePointArc((19.827624, 48.071461), (22.114996, 47.06301), (24.35126, 45.945796))
        make_face(mode=Mode.SUBTRACT)
        with BuildLine():
            Line((31.694718, 41.224324), (2.896511, 30.533878))
            Line((2.896511, 30.533878), (2.896511, 34.331668))
            Line((2.896511, 34.331668), (28.38323, 43.570543))
            ThreePointArc((28.38323, 43.570543), (30.061872, 42.429752), (31.694718, 41.224324))
        make_face(mode=Mode.SUBTRACT)
        with BuildLine():
            Line((14.515265, 49.933026), (2.896511, 45.727838))
            Line((2.896511, 45.727838), (2.896511, 49.406949))
            Line((2.896511, 49.406949), (8.121136, 51.361923))
            ThreePointArc((8.121136, 51.361923), (11.340727, 50.74828), (14.515265, 49.933026))
        make_face(mode=Mode.SUBTRACT)
    extrude(amount=-F1_DEPTH)

    # F0 (on Top) → F2 (join)
    with BuildSketch(Plane.XY):
        Circle(F0_R)
        Circle(F0_R_2, mode=Mode.SUBTRACT)
    extrude(amount=F2_DEPTH)


solid = f1.part
